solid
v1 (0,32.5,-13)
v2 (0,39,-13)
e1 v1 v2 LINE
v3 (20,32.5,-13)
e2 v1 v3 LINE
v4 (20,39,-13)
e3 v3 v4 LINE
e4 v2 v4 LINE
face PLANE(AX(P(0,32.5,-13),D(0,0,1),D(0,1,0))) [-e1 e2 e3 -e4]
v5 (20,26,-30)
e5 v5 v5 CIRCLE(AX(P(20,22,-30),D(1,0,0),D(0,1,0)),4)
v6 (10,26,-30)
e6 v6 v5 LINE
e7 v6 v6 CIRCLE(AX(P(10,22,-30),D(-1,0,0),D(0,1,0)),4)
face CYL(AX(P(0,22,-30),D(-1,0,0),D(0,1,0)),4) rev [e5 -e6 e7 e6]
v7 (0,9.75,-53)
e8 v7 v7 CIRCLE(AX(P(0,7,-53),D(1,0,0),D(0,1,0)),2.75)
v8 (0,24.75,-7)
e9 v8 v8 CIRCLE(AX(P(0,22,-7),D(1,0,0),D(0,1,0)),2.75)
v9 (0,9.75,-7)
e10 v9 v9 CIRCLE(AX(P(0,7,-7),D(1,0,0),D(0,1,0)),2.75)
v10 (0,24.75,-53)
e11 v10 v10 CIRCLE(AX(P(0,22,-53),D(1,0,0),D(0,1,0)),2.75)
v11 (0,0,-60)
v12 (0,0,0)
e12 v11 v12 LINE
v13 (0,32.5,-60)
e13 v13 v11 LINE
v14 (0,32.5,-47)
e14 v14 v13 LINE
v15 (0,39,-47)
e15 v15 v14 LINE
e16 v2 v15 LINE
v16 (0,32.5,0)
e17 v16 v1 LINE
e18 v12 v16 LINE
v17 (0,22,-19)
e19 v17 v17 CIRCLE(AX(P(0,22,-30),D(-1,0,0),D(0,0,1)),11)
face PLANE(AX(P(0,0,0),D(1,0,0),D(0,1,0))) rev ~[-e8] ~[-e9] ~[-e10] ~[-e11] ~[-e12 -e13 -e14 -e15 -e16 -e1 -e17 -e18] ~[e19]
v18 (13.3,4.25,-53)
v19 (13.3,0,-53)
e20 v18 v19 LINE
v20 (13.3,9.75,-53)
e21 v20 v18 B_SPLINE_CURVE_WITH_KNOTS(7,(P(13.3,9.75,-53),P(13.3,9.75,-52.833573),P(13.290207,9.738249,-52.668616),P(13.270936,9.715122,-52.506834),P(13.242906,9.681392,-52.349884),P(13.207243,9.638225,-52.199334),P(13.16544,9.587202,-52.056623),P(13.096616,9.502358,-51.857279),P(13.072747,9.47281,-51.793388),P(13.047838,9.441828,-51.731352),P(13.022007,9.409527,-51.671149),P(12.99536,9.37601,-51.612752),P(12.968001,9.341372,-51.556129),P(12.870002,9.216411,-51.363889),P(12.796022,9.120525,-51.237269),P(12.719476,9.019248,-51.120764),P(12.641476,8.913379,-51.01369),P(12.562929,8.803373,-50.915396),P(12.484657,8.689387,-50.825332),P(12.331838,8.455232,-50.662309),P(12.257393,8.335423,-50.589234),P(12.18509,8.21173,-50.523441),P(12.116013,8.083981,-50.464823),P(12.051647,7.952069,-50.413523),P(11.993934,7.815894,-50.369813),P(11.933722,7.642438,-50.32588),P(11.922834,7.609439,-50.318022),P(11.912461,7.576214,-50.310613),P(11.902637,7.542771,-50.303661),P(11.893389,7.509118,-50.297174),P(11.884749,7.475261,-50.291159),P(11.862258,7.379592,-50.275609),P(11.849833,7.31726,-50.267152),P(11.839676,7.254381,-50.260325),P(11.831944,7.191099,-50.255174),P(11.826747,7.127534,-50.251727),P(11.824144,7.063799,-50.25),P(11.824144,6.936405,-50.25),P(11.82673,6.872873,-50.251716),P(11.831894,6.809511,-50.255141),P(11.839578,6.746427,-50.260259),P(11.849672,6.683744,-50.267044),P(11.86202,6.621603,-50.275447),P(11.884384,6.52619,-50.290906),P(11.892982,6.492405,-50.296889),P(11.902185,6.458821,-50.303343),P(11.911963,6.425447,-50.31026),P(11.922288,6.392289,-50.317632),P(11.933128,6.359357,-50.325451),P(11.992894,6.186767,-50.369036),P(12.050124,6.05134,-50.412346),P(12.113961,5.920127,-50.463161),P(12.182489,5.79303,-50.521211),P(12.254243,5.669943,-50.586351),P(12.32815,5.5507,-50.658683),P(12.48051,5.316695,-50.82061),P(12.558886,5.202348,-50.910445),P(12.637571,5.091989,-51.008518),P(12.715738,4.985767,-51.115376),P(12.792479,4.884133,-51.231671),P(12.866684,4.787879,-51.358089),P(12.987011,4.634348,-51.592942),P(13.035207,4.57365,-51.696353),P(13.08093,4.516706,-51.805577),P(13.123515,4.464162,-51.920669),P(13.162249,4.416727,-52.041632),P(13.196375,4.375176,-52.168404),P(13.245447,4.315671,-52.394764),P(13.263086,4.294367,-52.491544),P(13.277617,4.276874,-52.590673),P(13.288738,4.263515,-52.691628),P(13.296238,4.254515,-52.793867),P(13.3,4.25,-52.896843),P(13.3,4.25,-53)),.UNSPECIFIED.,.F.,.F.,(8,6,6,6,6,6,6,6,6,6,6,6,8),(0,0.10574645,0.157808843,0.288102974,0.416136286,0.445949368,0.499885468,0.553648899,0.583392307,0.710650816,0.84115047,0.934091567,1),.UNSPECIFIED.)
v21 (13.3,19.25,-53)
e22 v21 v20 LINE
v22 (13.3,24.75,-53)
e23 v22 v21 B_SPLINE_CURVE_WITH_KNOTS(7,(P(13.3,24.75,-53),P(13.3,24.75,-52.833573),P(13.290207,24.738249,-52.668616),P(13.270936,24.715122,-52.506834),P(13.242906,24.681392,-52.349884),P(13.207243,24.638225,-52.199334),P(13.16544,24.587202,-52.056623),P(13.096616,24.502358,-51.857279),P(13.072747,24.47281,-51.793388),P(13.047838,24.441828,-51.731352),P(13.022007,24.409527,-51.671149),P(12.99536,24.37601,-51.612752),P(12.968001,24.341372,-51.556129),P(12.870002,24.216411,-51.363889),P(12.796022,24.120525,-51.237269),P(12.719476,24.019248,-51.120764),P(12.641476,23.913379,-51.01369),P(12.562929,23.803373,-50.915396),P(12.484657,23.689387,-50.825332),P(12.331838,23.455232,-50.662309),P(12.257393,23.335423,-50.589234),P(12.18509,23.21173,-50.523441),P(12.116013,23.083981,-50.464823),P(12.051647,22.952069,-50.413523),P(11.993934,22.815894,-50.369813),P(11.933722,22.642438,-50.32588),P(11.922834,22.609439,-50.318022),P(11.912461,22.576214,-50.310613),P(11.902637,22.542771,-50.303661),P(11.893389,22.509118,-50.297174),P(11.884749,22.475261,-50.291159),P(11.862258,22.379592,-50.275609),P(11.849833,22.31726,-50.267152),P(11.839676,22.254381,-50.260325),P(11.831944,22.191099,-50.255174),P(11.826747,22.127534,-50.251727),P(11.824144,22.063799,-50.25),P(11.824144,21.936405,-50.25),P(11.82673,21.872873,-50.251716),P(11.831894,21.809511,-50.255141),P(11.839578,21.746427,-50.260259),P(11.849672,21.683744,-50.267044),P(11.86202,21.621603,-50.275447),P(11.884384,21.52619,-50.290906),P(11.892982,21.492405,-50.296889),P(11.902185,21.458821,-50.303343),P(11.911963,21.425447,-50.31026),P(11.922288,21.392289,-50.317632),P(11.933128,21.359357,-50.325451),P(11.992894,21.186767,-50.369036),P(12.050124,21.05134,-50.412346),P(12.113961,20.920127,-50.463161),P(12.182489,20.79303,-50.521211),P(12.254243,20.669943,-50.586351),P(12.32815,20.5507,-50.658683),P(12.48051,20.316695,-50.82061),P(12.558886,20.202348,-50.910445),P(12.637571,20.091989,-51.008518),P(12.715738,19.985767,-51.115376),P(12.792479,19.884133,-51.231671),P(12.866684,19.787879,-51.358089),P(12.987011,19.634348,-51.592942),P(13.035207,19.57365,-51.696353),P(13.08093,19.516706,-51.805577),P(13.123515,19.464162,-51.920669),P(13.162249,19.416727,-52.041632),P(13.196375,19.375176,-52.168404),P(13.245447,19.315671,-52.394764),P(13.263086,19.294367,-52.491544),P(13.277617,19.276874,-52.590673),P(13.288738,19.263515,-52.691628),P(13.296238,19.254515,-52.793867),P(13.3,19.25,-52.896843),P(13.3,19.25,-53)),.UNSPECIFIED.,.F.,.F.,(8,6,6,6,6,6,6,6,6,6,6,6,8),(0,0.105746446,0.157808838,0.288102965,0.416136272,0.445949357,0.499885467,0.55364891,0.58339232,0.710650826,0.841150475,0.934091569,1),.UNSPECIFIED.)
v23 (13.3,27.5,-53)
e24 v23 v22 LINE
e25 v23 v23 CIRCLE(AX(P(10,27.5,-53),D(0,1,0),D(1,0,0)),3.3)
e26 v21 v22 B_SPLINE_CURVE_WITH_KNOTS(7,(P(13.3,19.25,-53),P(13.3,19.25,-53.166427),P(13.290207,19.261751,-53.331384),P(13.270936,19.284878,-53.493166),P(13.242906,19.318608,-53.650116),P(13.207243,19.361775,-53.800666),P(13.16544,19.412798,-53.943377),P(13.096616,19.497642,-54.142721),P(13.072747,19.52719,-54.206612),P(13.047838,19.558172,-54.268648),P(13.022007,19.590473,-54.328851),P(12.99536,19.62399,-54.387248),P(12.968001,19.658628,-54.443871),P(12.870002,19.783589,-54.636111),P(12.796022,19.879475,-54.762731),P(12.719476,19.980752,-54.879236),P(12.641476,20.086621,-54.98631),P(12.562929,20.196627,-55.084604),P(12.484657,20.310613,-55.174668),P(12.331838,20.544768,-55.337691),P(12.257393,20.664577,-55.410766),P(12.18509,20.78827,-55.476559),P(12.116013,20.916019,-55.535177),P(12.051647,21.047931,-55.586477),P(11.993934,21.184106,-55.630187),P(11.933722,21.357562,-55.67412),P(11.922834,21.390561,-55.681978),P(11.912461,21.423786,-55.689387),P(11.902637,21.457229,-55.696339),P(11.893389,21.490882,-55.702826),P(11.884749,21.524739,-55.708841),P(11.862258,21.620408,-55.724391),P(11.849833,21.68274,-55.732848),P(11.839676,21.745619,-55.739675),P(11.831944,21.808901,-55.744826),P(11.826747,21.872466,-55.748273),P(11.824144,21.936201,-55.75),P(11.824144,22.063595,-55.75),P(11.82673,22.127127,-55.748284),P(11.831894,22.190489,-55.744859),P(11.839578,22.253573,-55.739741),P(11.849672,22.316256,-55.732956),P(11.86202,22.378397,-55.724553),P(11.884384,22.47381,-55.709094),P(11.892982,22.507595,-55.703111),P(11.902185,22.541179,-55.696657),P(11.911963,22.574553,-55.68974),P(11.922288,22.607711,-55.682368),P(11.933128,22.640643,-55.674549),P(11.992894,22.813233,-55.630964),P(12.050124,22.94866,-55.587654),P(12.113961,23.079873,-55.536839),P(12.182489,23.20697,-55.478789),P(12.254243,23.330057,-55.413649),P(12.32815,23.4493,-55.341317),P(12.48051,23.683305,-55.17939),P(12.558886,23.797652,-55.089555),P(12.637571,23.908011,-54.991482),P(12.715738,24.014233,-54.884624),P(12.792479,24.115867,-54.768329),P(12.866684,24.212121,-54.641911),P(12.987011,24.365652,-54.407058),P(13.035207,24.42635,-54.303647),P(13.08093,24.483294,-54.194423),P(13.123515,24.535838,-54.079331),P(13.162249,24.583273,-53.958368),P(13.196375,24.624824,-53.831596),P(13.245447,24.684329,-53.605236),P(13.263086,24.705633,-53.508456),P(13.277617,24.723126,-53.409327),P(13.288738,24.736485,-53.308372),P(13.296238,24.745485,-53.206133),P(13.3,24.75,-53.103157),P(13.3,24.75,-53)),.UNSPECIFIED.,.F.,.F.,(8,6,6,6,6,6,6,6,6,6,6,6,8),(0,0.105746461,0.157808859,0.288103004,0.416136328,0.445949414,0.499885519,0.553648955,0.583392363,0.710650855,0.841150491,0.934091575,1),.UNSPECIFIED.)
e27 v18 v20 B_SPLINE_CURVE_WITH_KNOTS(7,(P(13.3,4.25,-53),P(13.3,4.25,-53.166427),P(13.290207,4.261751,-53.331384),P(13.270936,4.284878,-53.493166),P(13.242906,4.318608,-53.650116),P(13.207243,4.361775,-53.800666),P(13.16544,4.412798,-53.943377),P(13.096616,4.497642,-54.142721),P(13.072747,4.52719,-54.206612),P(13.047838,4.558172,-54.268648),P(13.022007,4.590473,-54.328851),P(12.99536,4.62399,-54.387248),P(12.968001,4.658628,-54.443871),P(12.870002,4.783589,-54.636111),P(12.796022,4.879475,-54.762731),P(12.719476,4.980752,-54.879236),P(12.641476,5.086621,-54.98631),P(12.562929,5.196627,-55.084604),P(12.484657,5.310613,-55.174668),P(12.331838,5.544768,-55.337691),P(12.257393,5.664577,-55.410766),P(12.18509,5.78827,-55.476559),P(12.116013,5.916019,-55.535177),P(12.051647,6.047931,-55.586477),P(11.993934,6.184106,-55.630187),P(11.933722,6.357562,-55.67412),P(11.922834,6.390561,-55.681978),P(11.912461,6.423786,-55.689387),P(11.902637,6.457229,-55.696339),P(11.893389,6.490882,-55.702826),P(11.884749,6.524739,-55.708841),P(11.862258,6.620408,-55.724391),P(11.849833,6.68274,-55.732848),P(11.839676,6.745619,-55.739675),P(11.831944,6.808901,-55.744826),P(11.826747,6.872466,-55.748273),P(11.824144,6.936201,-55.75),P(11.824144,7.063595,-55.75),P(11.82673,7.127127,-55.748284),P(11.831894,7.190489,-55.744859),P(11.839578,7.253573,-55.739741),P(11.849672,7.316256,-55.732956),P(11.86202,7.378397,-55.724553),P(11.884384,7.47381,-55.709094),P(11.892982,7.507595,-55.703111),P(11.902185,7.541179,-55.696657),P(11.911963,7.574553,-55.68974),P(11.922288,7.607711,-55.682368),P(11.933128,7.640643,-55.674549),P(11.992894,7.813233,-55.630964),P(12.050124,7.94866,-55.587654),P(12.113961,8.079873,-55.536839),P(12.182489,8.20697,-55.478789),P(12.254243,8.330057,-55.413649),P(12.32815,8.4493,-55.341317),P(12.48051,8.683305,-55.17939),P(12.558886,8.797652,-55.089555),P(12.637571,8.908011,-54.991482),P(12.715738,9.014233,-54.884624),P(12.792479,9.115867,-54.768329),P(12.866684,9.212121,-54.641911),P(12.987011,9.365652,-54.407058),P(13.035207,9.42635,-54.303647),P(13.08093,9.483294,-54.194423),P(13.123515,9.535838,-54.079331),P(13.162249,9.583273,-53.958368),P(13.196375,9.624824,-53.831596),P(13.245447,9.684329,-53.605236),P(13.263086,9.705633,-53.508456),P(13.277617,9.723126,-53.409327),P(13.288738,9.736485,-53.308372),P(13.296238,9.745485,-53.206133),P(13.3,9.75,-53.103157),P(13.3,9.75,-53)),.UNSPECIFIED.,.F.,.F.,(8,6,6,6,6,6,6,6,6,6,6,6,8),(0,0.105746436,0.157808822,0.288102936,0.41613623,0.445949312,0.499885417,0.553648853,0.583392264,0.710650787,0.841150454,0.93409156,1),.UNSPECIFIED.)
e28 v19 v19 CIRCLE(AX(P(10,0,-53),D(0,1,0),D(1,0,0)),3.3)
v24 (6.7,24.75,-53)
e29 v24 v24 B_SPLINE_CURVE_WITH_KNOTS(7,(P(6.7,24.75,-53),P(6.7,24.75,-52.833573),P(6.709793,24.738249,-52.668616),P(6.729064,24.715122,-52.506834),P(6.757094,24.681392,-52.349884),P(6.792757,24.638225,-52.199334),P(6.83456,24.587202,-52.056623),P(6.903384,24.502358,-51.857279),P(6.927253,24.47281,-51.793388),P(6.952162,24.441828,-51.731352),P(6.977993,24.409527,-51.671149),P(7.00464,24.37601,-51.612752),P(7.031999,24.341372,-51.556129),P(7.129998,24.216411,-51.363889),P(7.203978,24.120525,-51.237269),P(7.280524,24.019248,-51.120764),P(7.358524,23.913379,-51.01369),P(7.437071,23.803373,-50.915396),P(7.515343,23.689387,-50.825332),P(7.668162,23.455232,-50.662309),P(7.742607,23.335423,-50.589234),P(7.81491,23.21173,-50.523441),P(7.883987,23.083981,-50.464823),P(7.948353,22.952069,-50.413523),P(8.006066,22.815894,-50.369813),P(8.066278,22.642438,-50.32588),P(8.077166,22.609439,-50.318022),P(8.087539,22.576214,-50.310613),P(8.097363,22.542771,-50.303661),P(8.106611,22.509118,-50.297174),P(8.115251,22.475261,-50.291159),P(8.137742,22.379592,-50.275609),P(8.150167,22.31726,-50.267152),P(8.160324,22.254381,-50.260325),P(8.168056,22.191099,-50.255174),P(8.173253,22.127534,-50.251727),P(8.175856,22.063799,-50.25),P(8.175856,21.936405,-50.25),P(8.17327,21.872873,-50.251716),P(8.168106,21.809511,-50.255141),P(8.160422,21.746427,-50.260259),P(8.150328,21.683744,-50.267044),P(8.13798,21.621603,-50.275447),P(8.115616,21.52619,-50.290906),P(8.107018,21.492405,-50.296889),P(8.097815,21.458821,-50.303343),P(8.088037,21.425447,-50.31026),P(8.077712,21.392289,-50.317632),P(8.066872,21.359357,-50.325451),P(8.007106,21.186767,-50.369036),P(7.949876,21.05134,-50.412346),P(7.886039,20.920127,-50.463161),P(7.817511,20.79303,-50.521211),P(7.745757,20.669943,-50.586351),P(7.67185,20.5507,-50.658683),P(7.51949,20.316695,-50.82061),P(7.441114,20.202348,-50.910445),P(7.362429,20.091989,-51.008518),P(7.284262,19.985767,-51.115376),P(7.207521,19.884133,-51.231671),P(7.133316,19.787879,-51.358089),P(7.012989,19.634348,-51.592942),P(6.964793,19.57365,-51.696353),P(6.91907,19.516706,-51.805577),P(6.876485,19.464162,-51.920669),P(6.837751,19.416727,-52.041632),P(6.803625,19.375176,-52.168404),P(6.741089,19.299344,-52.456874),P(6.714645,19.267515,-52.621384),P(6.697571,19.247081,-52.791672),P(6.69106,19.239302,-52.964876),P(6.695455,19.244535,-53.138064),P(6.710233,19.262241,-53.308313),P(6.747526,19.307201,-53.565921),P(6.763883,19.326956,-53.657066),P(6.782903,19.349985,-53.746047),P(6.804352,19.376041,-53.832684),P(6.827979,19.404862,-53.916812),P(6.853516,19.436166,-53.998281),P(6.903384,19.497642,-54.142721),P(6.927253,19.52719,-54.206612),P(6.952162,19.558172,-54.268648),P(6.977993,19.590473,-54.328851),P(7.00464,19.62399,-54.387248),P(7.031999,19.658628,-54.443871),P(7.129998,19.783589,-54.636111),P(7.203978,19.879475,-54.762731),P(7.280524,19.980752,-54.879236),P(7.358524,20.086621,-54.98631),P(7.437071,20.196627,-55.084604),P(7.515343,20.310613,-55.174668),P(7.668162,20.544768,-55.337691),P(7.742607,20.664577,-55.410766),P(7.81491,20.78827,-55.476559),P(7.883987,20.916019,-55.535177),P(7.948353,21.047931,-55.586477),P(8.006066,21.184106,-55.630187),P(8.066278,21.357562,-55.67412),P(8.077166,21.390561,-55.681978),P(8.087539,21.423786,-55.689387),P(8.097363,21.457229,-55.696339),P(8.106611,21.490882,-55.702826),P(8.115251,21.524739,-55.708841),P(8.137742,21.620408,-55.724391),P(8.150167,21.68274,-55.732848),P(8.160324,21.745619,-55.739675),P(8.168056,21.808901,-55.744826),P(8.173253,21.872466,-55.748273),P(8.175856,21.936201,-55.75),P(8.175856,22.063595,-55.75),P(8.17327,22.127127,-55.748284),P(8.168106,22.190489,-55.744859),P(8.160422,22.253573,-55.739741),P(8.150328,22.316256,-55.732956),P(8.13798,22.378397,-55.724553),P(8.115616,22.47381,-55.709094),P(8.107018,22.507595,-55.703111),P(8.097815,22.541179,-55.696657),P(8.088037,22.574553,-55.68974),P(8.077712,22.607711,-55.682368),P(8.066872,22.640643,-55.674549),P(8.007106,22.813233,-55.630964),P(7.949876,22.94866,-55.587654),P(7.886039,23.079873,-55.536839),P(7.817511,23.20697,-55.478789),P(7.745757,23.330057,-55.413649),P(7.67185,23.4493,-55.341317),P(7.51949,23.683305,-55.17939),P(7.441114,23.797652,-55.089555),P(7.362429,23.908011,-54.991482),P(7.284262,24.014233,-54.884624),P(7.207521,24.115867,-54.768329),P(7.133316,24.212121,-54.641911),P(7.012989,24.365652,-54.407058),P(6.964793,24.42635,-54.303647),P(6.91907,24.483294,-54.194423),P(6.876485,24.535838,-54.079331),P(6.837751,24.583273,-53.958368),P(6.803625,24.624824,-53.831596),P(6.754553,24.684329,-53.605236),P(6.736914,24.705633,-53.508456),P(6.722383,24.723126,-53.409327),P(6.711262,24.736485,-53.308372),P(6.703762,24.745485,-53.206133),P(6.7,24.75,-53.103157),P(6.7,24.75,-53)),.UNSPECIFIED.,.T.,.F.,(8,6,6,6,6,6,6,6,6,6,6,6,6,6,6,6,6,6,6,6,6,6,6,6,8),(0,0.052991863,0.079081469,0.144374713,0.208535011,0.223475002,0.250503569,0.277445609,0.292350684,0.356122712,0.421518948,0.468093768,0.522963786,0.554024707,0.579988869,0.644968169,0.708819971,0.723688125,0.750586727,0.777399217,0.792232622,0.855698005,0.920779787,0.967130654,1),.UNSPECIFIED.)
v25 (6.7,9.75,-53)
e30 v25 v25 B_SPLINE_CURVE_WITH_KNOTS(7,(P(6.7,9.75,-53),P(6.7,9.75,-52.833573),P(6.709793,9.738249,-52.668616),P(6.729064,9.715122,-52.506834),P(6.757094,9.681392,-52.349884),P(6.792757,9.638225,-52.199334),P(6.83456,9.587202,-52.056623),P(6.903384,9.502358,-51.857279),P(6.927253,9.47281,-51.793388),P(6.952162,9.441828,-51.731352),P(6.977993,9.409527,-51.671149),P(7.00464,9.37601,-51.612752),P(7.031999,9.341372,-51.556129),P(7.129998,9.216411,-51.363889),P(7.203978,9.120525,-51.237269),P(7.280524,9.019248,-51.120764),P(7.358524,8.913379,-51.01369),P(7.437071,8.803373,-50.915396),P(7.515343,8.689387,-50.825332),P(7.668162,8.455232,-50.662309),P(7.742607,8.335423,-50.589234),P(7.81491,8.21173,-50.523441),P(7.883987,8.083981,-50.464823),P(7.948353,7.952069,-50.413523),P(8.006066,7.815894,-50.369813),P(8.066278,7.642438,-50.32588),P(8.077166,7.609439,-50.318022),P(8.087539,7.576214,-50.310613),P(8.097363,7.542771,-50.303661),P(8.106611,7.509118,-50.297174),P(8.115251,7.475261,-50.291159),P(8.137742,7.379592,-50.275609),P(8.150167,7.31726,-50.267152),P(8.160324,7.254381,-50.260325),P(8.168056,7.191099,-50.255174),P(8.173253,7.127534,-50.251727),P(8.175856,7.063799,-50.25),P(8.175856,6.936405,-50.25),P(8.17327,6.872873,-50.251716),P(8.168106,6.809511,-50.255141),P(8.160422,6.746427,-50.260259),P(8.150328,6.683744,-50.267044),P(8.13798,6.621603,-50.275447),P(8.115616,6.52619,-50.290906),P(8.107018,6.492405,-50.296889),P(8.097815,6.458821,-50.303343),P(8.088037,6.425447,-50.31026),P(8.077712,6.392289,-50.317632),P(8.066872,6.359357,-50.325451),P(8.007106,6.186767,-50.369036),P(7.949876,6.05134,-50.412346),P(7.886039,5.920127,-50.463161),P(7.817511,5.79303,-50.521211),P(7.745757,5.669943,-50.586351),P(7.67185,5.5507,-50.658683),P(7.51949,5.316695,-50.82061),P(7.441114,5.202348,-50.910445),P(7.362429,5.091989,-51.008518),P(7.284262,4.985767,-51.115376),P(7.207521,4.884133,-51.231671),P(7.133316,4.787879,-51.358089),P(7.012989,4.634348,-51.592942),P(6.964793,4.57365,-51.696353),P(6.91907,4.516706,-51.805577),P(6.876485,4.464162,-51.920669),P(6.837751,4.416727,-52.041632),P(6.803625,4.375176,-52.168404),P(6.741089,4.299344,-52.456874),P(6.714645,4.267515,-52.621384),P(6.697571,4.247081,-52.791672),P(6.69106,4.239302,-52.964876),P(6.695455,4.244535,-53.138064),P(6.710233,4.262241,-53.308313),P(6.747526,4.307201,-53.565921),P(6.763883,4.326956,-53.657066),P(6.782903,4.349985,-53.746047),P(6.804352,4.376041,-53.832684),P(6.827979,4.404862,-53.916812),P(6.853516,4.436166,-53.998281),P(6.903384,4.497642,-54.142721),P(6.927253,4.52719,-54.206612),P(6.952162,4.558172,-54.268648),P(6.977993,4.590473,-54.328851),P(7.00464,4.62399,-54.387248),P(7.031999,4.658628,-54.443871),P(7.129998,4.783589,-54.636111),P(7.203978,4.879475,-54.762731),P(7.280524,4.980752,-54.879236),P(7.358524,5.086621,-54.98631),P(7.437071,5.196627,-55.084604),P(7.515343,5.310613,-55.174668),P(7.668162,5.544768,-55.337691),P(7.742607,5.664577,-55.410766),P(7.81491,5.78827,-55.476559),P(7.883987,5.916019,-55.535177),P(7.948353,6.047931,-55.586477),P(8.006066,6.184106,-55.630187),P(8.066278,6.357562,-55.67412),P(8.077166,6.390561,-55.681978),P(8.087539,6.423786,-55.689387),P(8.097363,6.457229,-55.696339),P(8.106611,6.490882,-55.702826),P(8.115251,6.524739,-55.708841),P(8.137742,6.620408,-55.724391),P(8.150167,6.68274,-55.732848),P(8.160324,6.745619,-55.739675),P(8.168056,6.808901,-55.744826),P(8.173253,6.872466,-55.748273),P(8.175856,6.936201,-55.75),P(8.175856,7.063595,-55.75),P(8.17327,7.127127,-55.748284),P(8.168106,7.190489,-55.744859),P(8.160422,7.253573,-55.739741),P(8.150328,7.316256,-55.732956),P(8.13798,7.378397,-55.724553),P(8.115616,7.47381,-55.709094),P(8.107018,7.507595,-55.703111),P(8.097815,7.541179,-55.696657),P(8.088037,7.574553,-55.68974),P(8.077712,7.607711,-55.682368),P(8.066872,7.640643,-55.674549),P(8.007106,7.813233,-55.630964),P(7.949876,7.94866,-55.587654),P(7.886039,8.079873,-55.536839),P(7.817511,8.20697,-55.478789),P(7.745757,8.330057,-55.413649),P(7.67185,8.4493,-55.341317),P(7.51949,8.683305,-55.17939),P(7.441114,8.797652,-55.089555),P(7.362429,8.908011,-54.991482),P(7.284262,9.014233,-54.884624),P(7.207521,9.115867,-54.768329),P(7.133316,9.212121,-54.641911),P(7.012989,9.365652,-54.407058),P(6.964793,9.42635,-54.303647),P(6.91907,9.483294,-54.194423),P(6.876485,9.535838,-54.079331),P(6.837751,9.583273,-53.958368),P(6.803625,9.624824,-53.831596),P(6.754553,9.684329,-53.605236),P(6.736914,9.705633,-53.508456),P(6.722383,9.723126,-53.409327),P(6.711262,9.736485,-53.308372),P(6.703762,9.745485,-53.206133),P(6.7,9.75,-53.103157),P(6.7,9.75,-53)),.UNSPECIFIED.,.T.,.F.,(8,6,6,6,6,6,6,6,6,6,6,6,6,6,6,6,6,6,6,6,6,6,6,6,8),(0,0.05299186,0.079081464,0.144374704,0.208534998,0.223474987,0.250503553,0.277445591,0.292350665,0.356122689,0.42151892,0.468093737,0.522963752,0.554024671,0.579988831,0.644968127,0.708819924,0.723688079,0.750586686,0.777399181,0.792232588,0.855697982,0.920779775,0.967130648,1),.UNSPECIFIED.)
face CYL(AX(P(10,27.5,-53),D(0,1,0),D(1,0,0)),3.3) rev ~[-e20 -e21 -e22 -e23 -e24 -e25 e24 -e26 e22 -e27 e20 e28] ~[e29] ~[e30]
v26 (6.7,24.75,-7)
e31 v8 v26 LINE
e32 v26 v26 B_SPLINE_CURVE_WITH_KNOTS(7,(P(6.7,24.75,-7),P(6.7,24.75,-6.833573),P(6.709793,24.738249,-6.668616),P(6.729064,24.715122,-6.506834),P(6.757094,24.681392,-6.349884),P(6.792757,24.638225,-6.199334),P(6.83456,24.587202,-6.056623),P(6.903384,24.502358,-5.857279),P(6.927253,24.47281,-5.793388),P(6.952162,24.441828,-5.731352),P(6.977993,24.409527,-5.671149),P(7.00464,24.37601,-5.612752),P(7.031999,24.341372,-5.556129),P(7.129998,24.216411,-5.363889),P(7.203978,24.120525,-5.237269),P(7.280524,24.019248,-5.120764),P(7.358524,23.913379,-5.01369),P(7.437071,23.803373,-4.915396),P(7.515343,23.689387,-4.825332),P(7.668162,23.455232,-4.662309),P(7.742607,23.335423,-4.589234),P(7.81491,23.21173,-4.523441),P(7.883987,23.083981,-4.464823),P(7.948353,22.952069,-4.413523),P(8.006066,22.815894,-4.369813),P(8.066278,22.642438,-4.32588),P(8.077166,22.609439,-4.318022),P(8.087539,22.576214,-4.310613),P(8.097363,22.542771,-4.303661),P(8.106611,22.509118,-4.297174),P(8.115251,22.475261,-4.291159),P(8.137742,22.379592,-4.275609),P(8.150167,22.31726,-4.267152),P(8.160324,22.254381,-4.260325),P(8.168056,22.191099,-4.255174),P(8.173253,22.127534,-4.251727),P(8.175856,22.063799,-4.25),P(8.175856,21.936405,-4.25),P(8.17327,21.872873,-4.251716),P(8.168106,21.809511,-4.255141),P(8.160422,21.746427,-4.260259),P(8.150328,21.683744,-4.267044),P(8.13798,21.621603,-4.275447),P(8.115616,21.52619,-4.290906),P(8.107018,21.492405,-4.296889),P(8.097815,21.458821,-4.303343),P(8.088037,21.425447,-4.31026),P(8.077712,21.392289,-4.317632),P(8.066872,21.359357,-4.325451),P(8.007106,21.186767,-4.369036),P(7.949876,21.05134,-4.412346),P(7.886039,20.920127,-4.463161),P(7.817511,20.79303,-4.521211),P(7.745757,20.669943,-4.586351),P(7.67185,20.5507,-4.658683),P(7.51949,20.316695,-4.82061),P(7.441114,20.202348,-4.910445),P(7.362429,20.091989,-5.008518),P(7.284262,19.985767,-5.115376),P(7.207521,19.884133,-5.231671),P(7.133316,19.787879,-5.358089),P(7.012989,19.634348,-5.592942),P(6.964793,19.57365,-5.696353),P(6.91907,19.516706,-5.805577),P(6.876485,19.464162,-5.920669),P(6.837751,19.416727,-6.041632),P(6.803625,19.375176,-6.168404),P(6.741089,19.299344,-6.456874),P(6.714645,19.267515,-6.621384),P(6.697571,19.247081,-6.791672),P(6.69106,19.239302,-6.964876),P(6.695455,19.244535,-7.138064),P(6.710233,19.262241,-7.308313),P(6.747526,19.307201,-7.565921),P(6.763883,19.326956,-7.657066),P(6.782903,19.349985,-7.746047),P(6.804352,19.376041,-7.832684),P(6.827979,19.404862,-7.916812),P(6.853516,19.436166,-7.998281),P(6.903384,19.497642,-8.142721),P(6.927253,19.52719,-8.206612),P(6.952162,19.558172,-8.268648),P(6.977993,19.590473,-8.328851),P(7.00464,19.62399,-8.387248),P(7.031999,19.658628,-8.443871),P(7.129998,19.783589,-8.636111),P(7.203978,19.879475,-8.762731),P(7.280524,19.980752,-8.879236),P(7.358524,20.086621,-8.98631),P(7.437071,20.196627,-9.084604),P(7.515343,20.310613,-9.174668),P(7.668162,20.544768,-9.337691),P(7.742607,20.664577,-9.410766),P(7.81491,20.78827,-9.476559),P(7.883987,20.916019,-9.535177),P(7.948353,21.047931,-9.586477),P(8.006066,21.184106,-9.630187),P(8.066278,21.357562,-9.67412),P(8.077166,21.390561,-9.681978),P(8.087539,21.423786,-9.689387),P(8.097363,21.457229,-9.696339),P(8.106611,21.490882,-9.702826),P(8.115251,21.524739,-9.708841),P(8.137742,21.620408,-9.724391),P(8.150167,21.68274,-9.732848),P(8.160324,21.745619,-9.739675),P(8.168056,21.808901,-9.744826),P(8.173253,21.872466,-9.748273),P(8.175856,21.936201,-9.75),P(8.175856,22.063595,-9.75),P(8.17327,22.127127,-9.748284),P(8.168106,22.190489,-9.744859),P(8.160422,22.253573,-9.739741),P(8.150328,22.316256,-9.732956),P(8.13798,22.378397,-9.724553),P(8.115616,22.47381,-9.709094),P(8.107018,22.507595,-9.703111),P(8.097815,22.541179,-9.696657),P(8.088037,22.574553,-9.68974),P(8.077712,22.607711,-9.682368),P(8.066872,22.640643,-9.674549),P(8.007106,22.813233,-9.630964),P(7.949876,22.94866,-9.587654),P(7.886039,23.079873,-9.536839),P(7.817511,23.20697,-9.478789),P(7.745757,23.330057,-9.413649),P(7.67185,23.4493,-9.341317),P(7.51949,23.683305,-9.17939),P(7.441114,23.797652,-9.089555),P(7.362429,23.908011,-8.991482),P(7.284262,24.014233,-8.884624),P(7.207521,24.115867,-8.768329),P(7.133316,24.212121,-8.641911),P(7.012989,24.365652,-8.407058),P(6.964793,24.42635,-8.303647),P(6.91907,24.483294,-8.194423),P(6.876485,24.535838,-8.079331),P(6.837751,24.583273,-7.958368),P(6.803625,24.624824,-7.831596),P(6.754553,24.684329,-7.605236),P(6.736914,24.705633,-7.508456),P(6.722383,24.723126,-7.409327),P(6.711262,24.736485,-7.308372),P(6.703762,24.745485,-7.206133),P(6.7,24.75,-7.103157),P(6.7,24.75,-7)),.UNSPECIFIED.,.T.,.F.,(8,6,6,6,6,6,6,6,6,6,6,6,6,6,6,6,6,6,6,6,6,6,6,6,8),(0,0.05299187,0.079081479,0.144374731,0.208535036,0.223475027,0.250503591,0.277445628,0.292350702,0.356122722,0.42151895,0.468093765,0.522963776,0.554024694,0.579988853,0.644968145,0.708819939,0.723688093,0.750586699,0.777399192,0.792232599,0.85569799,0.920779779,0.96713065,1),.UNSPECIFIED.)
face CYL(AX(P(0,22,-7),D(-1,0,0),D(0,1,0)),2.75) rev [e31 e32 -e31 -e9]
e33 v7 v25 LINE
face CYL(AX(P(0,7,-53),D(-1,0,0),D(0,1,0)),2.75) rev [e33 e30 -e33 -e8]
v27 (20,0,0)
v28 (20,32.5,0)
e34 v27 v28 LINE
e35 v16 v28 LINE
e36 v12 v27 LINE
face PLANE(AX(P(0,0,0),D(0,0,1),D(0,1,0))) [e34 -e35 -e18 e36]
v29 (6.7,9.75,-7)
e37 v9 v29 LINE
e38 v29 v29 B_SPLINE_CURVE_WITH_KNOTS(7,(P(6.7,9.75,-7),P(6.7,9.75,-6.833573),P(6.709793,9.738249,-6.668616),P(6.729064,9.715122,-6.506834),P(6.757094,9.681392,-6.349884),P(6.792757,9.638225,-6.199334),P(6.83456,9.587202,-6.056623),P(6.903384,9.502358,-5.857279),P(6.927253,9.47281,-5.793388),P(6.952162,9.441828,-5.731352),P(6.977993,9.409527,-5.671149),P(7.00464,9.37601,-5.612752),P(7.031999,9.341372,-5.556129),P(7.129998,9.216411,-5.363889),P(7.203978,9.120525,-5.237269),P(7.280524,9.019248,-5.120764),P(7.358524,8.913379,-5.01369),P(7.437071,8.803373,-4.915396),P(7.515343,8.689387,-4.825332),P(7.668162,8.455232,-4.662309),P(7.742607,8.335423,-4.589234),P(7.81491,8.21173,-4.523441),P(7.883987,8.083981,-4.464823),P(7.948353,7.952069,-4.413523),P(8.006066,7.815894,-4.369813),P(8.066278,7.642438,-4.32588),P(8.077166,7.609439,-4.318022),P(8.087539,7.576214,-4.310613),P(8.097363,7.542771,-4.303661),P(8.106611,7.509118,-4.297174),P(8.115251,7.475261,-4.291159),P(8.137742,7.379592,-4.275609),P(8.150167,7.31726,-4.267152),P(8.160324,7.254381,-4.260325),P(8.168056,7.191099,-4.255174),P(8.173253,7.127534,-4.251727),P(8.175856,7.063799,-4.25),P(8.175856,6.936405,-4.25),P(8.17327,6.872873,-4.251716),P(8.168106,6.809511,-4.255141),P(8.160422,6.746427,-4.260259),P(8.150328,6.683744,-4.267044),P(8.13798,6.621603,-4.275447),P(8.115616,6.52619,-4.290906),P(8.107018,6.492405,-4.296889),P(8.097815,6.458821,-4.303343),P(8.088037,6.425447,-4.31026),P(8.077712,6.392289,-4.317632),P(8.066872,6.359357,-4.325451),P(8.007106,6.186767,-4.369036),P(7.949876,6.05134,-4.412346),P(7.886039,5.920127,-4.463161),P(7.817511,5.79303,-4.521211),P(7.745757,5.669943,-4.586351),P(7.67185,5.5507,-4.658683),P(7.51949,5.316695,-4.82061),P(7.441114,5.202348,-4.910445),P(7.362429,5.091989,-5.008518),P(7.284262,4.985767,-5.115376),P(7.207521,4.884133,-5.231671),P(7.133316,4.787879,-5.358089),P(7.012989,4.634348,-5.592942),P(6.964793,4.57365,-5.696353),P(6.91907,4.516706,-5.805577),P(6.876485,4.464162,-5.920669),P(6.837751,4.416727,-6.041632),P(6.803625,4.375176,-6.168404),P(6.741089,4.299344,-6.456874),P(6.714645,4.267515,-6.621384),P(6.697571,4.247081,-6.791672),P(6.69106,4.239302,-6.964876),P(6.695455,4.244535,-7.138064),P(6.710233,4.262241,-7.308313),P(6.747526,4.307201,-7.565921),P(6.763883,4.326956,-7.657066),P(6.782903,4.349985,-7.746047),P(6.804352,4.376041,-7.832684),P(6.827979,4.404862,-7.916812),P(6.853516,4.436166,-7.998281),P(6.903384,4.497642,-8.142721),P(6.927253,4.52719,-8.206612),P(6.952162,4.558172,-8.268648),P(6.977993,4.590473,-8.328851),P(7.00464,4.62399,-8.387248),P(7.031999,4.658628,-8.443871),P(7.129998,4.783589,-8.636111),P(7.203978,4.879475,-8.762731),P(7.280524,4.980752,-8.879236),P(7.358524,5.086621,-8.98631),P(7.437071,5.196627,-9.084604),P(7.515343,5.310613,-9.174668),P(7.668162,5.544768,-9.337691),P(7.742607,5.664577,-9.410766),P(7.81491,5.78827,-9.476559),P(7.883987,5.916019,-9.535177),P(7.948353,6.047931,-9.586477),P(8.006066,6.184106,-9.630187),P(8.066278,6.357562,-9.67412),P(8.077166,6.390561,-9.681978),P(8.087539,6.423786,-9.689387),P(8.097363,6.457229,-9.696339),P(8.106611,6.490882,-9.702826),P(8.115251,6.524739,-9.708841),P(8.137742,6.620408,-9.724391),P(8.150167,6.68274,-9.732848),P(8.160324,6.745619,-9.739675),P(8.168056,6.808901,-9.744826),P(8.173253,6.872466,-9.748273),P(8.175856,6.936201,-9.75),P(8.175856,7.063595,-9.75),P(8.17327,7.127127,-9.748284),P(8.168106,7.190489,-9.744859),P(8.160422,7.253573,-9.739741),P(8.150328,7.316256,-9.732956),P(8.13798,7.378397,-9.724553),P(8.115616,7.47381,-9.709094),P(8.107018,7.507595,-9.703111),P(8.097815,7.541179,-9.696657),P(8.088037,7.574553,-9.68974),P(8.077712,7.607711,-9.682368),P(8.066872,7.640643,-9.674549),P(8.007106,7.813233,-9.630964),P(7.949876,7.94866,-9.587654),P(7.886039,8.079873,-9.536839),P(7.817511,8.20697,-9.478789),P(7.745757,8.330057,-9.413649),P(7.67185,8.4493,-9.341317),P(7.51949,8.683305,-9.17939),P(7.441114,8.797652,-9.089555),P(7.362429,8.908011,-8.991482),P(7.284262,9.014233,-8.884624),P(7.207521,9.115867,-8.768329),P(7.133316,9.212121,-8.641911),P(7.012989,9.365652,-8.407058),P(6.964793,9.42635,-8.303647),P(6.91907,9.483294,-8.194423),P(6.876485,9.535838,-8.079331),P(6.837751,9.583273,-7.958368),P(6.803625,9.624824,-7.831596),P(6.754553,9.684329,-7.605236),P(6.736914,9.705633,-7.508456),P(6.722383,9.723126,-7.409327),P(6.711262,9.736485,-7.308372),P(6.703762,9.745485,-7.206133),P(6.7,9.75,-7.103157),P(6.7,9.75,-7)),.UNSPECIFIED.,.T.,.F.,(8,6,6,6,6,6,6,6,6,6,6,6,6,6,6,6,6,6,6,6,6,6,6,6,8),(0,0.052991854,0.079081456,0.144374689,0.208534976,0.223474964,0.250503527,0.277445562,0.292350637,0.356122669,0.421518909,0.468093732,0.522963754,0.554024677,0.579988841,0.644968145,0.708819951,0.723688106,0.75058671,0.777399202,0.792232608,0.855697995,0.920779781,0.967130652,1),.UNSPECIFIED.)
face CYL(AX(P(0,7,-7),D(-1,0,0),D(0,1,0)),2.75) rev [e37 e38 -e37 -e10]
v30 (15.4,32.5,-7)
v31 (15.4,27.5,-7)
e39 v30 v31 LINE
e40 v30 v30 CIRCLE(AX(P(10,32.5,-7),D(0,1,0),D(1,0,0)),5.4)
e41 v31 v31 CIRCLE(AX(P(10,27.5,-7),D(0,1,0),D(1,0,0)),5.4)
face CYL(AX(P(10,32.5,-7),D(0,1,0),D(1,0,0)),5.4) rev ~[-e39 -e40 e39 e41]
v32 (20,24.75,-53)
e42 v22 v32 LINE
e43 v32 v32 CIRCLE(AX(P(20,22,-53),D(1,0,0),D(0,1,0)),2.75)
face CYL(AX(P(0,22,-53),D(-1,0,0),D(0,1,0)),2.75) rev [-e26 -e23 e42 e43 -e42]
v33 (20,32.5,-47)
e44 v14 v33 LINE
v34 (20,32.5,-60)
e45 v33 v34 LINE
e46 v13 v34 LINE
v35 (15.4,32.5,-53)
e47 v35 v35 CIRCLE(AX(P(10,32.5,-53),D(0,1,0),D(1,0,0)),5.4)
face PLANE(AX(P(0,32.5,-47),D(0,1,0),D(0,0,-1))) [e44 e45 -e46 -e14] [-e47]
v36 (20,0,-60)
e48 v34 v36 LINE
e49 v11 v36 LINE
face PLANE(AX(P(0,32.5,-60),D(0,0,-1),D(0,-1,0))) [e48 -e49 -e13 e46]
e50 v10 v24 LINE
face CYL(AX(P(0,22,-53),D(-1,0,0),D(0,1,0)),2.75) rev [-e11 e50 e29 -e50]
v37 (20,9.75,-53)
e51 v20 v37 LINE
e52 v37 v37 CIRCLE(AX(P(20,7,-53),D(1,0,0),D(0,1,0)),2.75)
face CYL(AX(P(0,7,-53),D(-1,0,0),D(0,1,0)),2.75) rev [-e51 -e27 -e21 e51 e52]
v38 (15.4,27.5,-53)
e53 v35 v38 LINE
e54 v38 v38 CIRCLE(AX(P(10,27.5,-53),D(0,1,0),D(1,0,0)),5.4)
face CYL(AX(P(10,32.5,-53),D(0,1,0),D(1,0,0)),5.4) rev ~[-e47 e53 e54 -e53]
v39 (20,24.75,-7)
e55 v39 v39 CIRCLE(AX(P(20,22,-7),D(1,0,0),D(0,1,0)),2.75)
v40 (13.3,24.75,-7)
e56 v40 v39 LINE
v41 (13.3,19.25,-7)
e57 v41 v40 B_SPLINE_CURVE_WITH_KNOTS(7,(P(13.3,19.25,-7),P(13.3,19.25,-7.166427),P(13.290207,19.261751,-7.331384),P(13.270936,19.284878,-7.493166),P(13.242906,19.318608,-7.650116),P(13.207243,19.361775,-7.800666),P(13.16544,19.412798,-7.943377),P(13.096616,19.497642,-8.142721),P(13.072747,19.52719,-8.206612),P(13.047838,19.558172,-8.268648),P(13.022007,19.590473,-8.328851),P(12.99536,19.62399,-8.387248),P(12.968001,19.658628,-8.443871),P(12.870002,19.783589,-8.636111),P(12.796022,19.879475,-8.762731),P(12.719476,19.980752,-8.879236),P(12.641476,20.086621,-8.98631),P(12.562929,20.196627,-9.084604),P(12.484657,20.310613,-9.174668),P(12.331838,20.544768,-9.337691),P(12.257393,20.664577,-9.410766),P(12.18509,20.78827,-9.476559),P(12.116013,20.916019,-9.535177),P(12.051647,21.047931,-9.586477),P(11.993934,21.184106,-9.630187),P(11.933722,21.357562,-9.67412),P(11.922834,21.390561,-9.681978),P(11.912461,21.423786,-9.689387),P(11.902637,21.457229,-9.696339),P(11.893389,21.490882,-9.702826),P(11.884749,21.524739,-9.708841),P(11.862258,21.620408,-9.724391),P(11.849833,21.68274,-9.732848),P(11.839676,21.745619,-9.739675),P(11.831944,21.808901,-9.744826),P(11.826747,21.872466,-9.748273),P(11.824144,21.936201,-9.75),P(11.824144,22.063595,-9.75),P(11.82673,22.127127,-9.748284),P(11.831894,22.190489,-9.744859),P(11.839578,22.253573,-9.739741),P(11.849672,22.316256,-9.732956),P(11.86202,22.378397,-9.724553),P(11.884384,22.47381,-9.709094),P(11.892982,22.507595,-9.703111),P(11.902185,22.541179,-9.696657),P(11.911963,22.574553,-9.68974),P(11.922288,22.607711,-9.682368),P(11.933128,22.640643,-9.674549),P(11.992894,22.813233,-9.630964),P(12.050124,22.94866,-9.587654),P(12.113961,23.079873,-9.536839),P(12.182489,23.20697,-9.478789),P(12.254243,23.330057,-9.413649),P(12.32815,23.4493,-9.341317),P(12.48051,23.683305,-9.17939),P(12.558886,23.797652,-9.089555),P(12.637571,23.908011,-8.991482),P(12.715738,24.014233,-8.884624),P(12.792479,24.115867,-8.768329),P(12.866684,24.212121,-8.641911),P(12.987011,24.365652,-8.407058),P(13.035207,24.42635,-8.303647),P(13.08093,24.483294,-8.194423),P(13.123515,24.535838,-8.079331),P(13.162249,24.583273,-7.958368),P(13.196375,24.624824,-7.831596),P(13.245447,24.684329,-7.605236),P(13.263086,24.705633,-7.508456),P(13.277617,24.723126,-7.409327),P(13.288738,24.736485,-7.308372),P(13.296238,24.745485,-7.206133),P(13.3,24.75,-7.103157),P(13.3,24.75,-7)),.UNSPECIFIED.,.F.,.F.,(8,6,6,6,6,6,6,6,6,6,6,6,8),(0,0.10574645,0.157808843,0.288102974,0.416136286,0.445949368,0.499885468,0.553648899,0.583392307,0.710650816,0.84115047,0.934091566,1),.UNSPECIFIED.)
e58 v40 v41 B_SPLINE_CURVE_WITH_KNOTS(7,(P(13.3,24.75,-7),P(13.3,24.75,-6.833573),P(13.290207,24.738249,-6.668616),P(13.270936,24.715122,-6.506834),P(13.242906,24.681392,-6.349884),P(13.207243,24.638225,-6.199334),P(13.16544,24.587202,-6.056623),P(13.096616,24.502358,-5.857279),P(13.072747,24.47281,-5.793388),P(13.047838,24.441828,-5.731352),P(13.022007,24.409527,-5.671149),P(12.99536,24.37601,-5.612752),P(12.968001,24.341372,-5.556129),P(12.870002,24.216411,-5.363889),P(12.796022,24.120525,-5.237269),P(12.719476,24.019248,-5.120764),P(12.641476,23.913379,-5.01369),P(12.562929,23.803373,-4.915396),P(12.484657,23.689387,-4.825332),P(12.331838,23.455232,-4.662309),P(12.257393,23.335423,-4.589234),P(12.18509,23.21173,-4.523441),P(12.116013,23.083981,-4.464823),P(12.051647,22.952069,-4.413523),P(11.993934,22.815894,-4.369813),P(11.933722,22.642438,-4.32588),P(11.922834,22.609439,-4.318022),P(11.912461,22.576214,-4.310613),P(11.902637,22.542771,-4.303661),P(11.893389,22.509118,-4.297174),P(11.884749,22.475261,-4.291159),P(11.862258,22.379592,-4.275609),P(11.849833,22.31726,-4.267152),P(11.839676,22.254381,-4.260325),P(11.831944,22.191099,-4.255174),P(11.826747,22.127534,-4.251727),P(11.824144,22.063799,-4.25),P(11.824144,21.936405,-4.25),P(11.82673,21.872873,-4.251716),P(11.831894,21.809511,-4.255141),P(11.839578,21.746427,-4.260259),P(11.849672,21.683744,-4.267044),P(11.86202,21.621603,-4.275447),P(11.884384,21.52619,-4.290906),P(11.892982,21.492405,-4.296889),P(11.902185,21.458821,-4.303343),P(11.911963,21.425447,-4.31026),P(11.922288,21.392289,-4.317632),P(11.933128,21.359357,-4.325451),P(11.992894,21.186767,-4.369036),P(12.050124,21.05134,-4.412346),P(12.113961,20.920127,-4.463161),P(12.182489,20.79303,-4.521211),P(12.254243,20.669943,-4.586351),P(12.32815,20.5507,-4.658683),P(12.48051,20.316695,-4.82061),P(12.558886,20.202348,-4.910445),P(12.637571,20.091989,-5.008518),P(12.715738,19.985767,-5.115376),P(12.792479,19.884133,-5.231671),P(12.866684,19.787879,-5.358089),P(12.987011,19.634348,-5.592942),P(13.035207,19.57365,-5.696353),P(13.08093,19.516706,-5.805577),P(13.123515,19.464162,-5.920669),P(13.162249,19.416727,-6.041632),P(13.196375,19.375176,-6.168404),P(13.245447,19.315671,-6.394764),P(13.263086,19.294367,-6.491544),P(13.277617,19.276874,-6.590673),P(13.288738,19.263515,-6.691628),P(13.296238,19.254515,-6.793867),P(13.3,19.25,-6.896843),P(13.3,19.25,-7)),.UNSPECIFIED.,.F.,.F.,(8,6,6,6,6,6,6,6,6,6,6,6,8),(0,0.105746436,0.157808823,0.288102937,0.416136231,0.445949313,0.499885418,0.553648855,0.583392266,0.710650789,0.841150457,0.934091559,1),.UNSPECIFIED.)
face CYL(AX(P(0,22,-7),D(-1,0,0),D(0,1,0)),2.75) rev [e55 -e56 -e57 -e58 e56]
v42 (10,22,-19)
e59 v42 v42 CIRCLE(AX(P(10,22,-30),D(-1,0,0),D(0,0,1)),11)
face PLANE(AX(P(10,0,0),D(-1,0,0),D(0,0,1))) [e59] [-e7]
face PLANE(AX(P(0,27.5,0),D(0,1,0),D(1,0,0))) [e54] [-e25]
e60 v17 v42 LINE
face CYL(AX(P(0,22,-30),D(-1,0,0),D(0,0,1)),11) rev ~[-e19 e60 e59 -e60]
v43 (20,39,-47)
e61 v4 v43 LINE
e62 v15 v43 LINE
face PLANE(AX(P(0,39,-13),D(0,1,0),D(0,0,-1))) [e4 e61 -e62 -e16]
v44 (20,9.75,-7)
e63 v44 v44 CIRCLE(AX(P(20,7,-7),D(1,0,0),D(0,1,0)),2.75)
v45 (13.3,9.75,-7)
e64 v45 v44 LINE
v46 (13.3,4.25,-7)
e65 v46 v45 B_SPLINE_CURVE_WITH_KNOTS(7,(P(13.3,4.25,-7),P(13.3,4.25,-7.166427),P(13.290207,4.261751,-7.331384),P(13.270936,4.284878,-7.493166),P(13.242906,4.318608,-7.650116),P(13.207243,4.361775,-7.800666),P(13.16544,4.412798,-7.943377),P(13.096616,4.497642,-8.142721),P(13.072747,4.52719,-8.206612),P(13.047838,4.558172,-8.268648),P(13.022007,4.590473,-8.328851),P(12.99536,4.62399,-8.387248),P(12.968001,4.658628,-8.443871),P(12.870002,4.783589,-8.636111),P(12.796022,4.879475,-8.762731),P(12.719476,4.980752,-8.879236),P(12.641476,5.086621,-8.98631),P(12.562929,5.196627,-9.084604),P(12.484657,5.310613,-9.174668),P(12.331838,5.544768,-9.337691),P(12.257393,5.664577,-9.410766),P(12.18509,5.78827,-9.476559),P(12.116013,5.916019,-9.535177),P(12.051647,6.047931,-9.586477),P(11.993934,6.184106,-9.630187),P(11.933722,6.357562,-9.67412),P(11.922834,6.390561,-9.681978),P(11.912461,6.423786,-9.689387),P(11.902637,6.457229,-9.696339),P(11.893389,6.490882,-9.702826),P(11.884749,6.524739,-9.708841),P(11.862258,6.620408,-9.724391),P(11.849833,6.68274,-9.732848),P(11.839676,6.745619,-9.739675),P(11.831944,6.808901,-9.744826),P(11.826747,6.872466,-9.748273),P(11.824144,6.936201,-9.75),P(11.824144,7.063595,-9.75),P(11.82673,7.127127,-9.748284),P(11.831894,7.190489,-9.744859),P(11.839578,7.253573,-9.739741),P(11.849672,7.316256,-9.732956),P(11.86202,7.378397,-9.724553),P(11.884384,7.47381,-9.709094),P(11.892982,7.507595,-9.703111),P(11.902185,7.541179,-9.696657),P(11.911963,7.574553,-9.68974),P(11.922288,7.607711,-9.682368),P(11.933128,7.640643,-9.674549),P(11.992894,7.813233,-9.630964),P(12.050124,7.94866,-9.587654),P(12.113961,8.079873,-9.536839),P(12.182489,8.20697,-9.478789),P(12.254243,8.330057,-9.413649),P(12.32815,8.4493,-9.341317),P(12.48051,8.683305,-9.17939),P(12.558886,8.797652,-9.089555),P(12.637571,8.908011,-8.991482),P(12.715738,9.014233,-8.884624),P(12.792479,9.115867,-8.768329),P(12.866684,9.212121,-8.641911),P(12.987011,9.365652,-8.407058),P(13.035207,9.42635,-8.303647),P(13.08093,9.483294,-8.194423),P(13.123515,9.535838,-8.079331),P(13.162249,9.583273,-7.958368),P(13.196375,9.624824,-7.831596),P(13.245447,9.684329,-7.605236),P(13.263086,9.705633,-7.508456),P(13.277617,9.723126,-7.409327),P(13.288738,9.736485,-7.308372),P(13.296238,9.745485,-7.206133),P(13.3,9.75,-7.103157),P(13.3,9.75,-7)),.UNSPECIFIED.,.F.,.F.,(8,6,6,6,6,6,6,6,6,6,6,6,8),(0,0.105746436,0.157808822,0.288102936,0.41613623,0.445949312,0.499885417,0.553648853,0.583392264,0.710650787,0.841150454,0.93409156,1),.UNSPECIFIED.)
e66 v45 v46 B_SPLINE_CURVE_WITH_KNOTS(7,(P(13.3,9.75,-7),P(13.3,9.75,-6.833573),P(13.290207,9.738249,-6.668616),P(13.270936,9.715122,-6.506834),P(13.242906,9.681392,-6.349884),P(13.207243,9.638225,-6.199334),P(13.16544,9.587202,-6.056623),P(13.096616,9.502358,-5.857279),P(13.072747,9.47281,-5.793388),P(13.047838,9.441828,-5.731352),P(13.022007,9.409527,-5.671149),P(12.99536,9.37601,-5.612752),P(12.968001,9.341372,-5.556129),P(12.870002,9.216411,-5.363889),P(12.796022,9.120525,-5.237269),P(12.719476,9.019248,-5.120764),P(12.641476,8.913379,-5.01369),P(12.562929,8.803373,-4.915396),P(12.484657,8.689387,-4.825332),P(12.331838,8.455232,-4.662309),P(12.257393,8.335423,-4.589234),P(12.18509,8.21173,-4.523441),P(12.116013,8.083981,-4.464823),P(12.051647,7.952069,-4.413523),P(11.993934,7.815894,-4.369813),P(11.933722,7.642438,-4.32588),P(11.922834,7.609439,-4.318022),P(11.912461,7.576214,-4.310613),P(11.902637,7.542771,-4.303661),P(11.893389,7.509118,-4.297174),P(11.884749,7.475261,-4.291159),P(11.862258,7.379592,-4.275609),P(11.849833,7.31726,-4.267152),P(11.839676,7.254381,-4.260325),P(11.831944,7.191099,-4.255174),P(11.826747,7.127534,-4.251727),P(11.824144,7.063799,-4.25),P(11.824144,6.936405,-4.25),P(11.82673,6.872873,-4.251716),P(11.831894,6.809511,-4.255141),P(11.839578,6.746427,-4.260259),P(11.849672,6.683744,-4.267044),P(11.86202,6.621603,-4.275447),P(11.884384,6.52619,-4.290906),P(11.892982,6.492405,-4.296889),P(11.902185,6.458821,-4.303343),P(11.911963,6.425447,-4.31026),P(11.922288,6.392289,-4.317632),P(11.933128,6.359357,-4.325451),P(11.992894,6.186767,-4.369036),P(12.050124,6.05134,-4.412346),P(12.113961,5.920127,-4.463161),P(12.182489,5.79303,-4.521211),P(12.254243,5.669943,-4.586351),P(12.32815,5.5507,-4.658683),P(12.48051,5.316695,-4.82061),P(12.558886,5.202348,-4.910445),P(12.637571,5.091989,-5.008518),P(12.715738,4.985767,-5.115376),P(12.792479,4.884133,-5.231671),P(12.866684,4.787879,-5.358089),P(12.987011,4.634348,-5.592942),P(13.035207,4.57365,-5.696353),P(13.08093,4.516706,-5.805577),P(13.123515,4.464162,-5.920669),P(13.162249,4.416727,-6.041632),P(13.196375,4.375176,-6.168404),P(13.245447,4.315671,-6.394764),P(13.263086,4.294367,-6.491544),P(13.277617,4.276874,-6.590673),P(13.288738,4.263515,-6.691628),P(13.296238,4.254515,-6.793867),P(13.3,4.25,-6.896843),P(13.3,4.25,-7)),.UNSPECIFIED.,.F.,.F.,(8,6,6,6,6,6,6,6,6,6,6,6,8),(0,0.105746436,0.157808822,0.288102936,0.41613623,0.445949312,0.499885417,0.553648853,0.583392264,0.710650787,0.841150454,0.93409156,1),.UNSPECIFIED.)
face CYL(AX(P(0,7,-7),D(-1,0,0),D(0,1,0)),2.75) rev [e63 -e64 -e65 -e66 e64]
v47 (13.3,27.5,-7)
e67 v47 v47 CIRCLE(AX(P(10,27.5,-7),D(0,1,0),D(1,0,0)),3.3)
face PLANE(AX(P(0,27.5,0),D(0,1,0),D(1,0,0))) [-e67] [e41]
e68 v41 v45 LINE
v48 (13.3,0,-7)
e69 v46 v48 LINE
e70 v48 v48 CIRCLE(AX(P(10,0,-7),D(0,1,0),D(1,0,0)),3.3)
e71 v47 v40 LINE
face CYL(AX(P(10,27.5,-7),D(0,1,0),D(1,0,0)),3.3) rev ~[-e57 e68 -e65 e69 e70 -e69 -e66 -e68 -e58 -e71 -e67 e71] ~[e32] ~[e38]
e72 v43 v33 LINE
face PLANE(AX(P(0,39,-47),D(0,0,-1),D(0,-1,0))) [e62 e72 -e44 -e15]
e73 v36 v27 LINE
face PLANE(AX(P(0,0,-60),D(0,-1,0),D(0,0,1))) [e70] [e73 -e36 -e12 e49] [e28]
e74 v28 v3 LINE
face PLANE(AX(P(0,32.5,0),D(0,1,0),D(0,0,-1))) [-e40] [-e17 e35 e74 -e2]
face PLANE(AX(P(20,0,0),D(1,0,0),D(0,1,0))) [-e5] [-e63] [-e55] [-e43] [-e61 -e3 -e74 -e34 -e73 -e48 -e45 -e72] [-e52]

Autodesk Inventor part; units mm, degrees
ref_plane "YZ Plane" through (0, 0, 0) normal (1, 0, 0) x (0, 1, 0)
ref_plane "XZ Plane" through (0, 0, 0) normal (0, 1, 0) x (-1, 0, 0)
ref_plane "XY Plane" through (0, 0, 0) normal (0, 0, 1) x (1, 0, 0)
sketch "Sketch1" plane through (0, 0, 0) normal (1, 0, 0) x (0, 1, 0)
  line L0 (0, 0) -> (32.5, 0)
  line L1 (32.5, 0) -> (32.5, -13)
  line L2 (32.5, -13) -> (39, -13)
  line L3 (39, -13) -> (39, -47)
  line L4 (39, -47) -> (32.5, -47)
  line L5 (32.5, -47) -> (32.5, -60)
  line L6 (32.5, -60) -> (0, -60)
  line L7 (0, -60) -> (0, 0)
  circle A0 centre (22, -53) radius 2.75
  circle A1 centre (7, -7) radius 2.75
  circle A2 centre (7, -53) radius 2.75
  circle A3 centre (22, -7) radius 2.75
  line L8 (22, -7) -> (7, -7) construction
  line L9 (7, -7) -> (7, -53) construction
  line L10 (7, -53) -> (22, -53) construction
  line L11 (22, -53) -> (22, -7) construction
  line L12 (7, -30) -> (0, -30) construction
  circle A4 centre (22, -30) radius 4
  dimension "d0" = 34
  dimension "d1" = 60
  dimension "d2" = 39
  dimension "d3" = 32.5
  dimension "d4" = 5.5
  dimension "d6" = 22
  dimension "d7" = 15
  dimension "d8" = 46
  dimension "d9" = 8
extrude "Extrusion1" add sketch "Sketch1" along normal blind 20
sketch "Sketch2" plane through (0, 32.5, 0) normal (0, 1, 0) x (1, 0, 0)
  circle A0 centre (10, 7) radius 5.4
  circle A1 centre (10, 53) radius 5.4
  point P0 (0, 0)
  dimension "d12" = 10.8
  dimension "d13" = 10.8
  dimension "d14" = 46
  dimension "d15" = 7
  dimension "d16" = 10
extrude "Extrusion2" cut sketch "Sketch2" against normal blind 5
sketch "Sketch3" plane through (10, 27.5, -7) normal (0, 1, 0) x (1, 0, 0)
  circle A0 centre (0, 0) radius 5.4 projected
  circle A1 centre (0, 46) radius 5.4 projected
  circle A2 centre (0, 46) radius 3.3
  circle A3 centre (0, 0) radius 3.3
  point P0 (-10, -7)
  dimension "d19" = 6.6
extrude "Extrusion3" cut sketch "Sketch3" against normal up to surface (27.5 mm away) contours A2 | A3
sketch "Sketch4" plane through (0, 0, 0) normal (-1, 0, 0) x (0, 0, 1)
  circle A0 centre (-30, 22) radius 11
  circle A1 centre (-30, 22) radius 4 projected
  point P0 (0, 0)
  dimension "d22" = 22
extrude "Extrusion4" cut sketch "Sketch4" against normal blind 10
properties part number "BF10"
